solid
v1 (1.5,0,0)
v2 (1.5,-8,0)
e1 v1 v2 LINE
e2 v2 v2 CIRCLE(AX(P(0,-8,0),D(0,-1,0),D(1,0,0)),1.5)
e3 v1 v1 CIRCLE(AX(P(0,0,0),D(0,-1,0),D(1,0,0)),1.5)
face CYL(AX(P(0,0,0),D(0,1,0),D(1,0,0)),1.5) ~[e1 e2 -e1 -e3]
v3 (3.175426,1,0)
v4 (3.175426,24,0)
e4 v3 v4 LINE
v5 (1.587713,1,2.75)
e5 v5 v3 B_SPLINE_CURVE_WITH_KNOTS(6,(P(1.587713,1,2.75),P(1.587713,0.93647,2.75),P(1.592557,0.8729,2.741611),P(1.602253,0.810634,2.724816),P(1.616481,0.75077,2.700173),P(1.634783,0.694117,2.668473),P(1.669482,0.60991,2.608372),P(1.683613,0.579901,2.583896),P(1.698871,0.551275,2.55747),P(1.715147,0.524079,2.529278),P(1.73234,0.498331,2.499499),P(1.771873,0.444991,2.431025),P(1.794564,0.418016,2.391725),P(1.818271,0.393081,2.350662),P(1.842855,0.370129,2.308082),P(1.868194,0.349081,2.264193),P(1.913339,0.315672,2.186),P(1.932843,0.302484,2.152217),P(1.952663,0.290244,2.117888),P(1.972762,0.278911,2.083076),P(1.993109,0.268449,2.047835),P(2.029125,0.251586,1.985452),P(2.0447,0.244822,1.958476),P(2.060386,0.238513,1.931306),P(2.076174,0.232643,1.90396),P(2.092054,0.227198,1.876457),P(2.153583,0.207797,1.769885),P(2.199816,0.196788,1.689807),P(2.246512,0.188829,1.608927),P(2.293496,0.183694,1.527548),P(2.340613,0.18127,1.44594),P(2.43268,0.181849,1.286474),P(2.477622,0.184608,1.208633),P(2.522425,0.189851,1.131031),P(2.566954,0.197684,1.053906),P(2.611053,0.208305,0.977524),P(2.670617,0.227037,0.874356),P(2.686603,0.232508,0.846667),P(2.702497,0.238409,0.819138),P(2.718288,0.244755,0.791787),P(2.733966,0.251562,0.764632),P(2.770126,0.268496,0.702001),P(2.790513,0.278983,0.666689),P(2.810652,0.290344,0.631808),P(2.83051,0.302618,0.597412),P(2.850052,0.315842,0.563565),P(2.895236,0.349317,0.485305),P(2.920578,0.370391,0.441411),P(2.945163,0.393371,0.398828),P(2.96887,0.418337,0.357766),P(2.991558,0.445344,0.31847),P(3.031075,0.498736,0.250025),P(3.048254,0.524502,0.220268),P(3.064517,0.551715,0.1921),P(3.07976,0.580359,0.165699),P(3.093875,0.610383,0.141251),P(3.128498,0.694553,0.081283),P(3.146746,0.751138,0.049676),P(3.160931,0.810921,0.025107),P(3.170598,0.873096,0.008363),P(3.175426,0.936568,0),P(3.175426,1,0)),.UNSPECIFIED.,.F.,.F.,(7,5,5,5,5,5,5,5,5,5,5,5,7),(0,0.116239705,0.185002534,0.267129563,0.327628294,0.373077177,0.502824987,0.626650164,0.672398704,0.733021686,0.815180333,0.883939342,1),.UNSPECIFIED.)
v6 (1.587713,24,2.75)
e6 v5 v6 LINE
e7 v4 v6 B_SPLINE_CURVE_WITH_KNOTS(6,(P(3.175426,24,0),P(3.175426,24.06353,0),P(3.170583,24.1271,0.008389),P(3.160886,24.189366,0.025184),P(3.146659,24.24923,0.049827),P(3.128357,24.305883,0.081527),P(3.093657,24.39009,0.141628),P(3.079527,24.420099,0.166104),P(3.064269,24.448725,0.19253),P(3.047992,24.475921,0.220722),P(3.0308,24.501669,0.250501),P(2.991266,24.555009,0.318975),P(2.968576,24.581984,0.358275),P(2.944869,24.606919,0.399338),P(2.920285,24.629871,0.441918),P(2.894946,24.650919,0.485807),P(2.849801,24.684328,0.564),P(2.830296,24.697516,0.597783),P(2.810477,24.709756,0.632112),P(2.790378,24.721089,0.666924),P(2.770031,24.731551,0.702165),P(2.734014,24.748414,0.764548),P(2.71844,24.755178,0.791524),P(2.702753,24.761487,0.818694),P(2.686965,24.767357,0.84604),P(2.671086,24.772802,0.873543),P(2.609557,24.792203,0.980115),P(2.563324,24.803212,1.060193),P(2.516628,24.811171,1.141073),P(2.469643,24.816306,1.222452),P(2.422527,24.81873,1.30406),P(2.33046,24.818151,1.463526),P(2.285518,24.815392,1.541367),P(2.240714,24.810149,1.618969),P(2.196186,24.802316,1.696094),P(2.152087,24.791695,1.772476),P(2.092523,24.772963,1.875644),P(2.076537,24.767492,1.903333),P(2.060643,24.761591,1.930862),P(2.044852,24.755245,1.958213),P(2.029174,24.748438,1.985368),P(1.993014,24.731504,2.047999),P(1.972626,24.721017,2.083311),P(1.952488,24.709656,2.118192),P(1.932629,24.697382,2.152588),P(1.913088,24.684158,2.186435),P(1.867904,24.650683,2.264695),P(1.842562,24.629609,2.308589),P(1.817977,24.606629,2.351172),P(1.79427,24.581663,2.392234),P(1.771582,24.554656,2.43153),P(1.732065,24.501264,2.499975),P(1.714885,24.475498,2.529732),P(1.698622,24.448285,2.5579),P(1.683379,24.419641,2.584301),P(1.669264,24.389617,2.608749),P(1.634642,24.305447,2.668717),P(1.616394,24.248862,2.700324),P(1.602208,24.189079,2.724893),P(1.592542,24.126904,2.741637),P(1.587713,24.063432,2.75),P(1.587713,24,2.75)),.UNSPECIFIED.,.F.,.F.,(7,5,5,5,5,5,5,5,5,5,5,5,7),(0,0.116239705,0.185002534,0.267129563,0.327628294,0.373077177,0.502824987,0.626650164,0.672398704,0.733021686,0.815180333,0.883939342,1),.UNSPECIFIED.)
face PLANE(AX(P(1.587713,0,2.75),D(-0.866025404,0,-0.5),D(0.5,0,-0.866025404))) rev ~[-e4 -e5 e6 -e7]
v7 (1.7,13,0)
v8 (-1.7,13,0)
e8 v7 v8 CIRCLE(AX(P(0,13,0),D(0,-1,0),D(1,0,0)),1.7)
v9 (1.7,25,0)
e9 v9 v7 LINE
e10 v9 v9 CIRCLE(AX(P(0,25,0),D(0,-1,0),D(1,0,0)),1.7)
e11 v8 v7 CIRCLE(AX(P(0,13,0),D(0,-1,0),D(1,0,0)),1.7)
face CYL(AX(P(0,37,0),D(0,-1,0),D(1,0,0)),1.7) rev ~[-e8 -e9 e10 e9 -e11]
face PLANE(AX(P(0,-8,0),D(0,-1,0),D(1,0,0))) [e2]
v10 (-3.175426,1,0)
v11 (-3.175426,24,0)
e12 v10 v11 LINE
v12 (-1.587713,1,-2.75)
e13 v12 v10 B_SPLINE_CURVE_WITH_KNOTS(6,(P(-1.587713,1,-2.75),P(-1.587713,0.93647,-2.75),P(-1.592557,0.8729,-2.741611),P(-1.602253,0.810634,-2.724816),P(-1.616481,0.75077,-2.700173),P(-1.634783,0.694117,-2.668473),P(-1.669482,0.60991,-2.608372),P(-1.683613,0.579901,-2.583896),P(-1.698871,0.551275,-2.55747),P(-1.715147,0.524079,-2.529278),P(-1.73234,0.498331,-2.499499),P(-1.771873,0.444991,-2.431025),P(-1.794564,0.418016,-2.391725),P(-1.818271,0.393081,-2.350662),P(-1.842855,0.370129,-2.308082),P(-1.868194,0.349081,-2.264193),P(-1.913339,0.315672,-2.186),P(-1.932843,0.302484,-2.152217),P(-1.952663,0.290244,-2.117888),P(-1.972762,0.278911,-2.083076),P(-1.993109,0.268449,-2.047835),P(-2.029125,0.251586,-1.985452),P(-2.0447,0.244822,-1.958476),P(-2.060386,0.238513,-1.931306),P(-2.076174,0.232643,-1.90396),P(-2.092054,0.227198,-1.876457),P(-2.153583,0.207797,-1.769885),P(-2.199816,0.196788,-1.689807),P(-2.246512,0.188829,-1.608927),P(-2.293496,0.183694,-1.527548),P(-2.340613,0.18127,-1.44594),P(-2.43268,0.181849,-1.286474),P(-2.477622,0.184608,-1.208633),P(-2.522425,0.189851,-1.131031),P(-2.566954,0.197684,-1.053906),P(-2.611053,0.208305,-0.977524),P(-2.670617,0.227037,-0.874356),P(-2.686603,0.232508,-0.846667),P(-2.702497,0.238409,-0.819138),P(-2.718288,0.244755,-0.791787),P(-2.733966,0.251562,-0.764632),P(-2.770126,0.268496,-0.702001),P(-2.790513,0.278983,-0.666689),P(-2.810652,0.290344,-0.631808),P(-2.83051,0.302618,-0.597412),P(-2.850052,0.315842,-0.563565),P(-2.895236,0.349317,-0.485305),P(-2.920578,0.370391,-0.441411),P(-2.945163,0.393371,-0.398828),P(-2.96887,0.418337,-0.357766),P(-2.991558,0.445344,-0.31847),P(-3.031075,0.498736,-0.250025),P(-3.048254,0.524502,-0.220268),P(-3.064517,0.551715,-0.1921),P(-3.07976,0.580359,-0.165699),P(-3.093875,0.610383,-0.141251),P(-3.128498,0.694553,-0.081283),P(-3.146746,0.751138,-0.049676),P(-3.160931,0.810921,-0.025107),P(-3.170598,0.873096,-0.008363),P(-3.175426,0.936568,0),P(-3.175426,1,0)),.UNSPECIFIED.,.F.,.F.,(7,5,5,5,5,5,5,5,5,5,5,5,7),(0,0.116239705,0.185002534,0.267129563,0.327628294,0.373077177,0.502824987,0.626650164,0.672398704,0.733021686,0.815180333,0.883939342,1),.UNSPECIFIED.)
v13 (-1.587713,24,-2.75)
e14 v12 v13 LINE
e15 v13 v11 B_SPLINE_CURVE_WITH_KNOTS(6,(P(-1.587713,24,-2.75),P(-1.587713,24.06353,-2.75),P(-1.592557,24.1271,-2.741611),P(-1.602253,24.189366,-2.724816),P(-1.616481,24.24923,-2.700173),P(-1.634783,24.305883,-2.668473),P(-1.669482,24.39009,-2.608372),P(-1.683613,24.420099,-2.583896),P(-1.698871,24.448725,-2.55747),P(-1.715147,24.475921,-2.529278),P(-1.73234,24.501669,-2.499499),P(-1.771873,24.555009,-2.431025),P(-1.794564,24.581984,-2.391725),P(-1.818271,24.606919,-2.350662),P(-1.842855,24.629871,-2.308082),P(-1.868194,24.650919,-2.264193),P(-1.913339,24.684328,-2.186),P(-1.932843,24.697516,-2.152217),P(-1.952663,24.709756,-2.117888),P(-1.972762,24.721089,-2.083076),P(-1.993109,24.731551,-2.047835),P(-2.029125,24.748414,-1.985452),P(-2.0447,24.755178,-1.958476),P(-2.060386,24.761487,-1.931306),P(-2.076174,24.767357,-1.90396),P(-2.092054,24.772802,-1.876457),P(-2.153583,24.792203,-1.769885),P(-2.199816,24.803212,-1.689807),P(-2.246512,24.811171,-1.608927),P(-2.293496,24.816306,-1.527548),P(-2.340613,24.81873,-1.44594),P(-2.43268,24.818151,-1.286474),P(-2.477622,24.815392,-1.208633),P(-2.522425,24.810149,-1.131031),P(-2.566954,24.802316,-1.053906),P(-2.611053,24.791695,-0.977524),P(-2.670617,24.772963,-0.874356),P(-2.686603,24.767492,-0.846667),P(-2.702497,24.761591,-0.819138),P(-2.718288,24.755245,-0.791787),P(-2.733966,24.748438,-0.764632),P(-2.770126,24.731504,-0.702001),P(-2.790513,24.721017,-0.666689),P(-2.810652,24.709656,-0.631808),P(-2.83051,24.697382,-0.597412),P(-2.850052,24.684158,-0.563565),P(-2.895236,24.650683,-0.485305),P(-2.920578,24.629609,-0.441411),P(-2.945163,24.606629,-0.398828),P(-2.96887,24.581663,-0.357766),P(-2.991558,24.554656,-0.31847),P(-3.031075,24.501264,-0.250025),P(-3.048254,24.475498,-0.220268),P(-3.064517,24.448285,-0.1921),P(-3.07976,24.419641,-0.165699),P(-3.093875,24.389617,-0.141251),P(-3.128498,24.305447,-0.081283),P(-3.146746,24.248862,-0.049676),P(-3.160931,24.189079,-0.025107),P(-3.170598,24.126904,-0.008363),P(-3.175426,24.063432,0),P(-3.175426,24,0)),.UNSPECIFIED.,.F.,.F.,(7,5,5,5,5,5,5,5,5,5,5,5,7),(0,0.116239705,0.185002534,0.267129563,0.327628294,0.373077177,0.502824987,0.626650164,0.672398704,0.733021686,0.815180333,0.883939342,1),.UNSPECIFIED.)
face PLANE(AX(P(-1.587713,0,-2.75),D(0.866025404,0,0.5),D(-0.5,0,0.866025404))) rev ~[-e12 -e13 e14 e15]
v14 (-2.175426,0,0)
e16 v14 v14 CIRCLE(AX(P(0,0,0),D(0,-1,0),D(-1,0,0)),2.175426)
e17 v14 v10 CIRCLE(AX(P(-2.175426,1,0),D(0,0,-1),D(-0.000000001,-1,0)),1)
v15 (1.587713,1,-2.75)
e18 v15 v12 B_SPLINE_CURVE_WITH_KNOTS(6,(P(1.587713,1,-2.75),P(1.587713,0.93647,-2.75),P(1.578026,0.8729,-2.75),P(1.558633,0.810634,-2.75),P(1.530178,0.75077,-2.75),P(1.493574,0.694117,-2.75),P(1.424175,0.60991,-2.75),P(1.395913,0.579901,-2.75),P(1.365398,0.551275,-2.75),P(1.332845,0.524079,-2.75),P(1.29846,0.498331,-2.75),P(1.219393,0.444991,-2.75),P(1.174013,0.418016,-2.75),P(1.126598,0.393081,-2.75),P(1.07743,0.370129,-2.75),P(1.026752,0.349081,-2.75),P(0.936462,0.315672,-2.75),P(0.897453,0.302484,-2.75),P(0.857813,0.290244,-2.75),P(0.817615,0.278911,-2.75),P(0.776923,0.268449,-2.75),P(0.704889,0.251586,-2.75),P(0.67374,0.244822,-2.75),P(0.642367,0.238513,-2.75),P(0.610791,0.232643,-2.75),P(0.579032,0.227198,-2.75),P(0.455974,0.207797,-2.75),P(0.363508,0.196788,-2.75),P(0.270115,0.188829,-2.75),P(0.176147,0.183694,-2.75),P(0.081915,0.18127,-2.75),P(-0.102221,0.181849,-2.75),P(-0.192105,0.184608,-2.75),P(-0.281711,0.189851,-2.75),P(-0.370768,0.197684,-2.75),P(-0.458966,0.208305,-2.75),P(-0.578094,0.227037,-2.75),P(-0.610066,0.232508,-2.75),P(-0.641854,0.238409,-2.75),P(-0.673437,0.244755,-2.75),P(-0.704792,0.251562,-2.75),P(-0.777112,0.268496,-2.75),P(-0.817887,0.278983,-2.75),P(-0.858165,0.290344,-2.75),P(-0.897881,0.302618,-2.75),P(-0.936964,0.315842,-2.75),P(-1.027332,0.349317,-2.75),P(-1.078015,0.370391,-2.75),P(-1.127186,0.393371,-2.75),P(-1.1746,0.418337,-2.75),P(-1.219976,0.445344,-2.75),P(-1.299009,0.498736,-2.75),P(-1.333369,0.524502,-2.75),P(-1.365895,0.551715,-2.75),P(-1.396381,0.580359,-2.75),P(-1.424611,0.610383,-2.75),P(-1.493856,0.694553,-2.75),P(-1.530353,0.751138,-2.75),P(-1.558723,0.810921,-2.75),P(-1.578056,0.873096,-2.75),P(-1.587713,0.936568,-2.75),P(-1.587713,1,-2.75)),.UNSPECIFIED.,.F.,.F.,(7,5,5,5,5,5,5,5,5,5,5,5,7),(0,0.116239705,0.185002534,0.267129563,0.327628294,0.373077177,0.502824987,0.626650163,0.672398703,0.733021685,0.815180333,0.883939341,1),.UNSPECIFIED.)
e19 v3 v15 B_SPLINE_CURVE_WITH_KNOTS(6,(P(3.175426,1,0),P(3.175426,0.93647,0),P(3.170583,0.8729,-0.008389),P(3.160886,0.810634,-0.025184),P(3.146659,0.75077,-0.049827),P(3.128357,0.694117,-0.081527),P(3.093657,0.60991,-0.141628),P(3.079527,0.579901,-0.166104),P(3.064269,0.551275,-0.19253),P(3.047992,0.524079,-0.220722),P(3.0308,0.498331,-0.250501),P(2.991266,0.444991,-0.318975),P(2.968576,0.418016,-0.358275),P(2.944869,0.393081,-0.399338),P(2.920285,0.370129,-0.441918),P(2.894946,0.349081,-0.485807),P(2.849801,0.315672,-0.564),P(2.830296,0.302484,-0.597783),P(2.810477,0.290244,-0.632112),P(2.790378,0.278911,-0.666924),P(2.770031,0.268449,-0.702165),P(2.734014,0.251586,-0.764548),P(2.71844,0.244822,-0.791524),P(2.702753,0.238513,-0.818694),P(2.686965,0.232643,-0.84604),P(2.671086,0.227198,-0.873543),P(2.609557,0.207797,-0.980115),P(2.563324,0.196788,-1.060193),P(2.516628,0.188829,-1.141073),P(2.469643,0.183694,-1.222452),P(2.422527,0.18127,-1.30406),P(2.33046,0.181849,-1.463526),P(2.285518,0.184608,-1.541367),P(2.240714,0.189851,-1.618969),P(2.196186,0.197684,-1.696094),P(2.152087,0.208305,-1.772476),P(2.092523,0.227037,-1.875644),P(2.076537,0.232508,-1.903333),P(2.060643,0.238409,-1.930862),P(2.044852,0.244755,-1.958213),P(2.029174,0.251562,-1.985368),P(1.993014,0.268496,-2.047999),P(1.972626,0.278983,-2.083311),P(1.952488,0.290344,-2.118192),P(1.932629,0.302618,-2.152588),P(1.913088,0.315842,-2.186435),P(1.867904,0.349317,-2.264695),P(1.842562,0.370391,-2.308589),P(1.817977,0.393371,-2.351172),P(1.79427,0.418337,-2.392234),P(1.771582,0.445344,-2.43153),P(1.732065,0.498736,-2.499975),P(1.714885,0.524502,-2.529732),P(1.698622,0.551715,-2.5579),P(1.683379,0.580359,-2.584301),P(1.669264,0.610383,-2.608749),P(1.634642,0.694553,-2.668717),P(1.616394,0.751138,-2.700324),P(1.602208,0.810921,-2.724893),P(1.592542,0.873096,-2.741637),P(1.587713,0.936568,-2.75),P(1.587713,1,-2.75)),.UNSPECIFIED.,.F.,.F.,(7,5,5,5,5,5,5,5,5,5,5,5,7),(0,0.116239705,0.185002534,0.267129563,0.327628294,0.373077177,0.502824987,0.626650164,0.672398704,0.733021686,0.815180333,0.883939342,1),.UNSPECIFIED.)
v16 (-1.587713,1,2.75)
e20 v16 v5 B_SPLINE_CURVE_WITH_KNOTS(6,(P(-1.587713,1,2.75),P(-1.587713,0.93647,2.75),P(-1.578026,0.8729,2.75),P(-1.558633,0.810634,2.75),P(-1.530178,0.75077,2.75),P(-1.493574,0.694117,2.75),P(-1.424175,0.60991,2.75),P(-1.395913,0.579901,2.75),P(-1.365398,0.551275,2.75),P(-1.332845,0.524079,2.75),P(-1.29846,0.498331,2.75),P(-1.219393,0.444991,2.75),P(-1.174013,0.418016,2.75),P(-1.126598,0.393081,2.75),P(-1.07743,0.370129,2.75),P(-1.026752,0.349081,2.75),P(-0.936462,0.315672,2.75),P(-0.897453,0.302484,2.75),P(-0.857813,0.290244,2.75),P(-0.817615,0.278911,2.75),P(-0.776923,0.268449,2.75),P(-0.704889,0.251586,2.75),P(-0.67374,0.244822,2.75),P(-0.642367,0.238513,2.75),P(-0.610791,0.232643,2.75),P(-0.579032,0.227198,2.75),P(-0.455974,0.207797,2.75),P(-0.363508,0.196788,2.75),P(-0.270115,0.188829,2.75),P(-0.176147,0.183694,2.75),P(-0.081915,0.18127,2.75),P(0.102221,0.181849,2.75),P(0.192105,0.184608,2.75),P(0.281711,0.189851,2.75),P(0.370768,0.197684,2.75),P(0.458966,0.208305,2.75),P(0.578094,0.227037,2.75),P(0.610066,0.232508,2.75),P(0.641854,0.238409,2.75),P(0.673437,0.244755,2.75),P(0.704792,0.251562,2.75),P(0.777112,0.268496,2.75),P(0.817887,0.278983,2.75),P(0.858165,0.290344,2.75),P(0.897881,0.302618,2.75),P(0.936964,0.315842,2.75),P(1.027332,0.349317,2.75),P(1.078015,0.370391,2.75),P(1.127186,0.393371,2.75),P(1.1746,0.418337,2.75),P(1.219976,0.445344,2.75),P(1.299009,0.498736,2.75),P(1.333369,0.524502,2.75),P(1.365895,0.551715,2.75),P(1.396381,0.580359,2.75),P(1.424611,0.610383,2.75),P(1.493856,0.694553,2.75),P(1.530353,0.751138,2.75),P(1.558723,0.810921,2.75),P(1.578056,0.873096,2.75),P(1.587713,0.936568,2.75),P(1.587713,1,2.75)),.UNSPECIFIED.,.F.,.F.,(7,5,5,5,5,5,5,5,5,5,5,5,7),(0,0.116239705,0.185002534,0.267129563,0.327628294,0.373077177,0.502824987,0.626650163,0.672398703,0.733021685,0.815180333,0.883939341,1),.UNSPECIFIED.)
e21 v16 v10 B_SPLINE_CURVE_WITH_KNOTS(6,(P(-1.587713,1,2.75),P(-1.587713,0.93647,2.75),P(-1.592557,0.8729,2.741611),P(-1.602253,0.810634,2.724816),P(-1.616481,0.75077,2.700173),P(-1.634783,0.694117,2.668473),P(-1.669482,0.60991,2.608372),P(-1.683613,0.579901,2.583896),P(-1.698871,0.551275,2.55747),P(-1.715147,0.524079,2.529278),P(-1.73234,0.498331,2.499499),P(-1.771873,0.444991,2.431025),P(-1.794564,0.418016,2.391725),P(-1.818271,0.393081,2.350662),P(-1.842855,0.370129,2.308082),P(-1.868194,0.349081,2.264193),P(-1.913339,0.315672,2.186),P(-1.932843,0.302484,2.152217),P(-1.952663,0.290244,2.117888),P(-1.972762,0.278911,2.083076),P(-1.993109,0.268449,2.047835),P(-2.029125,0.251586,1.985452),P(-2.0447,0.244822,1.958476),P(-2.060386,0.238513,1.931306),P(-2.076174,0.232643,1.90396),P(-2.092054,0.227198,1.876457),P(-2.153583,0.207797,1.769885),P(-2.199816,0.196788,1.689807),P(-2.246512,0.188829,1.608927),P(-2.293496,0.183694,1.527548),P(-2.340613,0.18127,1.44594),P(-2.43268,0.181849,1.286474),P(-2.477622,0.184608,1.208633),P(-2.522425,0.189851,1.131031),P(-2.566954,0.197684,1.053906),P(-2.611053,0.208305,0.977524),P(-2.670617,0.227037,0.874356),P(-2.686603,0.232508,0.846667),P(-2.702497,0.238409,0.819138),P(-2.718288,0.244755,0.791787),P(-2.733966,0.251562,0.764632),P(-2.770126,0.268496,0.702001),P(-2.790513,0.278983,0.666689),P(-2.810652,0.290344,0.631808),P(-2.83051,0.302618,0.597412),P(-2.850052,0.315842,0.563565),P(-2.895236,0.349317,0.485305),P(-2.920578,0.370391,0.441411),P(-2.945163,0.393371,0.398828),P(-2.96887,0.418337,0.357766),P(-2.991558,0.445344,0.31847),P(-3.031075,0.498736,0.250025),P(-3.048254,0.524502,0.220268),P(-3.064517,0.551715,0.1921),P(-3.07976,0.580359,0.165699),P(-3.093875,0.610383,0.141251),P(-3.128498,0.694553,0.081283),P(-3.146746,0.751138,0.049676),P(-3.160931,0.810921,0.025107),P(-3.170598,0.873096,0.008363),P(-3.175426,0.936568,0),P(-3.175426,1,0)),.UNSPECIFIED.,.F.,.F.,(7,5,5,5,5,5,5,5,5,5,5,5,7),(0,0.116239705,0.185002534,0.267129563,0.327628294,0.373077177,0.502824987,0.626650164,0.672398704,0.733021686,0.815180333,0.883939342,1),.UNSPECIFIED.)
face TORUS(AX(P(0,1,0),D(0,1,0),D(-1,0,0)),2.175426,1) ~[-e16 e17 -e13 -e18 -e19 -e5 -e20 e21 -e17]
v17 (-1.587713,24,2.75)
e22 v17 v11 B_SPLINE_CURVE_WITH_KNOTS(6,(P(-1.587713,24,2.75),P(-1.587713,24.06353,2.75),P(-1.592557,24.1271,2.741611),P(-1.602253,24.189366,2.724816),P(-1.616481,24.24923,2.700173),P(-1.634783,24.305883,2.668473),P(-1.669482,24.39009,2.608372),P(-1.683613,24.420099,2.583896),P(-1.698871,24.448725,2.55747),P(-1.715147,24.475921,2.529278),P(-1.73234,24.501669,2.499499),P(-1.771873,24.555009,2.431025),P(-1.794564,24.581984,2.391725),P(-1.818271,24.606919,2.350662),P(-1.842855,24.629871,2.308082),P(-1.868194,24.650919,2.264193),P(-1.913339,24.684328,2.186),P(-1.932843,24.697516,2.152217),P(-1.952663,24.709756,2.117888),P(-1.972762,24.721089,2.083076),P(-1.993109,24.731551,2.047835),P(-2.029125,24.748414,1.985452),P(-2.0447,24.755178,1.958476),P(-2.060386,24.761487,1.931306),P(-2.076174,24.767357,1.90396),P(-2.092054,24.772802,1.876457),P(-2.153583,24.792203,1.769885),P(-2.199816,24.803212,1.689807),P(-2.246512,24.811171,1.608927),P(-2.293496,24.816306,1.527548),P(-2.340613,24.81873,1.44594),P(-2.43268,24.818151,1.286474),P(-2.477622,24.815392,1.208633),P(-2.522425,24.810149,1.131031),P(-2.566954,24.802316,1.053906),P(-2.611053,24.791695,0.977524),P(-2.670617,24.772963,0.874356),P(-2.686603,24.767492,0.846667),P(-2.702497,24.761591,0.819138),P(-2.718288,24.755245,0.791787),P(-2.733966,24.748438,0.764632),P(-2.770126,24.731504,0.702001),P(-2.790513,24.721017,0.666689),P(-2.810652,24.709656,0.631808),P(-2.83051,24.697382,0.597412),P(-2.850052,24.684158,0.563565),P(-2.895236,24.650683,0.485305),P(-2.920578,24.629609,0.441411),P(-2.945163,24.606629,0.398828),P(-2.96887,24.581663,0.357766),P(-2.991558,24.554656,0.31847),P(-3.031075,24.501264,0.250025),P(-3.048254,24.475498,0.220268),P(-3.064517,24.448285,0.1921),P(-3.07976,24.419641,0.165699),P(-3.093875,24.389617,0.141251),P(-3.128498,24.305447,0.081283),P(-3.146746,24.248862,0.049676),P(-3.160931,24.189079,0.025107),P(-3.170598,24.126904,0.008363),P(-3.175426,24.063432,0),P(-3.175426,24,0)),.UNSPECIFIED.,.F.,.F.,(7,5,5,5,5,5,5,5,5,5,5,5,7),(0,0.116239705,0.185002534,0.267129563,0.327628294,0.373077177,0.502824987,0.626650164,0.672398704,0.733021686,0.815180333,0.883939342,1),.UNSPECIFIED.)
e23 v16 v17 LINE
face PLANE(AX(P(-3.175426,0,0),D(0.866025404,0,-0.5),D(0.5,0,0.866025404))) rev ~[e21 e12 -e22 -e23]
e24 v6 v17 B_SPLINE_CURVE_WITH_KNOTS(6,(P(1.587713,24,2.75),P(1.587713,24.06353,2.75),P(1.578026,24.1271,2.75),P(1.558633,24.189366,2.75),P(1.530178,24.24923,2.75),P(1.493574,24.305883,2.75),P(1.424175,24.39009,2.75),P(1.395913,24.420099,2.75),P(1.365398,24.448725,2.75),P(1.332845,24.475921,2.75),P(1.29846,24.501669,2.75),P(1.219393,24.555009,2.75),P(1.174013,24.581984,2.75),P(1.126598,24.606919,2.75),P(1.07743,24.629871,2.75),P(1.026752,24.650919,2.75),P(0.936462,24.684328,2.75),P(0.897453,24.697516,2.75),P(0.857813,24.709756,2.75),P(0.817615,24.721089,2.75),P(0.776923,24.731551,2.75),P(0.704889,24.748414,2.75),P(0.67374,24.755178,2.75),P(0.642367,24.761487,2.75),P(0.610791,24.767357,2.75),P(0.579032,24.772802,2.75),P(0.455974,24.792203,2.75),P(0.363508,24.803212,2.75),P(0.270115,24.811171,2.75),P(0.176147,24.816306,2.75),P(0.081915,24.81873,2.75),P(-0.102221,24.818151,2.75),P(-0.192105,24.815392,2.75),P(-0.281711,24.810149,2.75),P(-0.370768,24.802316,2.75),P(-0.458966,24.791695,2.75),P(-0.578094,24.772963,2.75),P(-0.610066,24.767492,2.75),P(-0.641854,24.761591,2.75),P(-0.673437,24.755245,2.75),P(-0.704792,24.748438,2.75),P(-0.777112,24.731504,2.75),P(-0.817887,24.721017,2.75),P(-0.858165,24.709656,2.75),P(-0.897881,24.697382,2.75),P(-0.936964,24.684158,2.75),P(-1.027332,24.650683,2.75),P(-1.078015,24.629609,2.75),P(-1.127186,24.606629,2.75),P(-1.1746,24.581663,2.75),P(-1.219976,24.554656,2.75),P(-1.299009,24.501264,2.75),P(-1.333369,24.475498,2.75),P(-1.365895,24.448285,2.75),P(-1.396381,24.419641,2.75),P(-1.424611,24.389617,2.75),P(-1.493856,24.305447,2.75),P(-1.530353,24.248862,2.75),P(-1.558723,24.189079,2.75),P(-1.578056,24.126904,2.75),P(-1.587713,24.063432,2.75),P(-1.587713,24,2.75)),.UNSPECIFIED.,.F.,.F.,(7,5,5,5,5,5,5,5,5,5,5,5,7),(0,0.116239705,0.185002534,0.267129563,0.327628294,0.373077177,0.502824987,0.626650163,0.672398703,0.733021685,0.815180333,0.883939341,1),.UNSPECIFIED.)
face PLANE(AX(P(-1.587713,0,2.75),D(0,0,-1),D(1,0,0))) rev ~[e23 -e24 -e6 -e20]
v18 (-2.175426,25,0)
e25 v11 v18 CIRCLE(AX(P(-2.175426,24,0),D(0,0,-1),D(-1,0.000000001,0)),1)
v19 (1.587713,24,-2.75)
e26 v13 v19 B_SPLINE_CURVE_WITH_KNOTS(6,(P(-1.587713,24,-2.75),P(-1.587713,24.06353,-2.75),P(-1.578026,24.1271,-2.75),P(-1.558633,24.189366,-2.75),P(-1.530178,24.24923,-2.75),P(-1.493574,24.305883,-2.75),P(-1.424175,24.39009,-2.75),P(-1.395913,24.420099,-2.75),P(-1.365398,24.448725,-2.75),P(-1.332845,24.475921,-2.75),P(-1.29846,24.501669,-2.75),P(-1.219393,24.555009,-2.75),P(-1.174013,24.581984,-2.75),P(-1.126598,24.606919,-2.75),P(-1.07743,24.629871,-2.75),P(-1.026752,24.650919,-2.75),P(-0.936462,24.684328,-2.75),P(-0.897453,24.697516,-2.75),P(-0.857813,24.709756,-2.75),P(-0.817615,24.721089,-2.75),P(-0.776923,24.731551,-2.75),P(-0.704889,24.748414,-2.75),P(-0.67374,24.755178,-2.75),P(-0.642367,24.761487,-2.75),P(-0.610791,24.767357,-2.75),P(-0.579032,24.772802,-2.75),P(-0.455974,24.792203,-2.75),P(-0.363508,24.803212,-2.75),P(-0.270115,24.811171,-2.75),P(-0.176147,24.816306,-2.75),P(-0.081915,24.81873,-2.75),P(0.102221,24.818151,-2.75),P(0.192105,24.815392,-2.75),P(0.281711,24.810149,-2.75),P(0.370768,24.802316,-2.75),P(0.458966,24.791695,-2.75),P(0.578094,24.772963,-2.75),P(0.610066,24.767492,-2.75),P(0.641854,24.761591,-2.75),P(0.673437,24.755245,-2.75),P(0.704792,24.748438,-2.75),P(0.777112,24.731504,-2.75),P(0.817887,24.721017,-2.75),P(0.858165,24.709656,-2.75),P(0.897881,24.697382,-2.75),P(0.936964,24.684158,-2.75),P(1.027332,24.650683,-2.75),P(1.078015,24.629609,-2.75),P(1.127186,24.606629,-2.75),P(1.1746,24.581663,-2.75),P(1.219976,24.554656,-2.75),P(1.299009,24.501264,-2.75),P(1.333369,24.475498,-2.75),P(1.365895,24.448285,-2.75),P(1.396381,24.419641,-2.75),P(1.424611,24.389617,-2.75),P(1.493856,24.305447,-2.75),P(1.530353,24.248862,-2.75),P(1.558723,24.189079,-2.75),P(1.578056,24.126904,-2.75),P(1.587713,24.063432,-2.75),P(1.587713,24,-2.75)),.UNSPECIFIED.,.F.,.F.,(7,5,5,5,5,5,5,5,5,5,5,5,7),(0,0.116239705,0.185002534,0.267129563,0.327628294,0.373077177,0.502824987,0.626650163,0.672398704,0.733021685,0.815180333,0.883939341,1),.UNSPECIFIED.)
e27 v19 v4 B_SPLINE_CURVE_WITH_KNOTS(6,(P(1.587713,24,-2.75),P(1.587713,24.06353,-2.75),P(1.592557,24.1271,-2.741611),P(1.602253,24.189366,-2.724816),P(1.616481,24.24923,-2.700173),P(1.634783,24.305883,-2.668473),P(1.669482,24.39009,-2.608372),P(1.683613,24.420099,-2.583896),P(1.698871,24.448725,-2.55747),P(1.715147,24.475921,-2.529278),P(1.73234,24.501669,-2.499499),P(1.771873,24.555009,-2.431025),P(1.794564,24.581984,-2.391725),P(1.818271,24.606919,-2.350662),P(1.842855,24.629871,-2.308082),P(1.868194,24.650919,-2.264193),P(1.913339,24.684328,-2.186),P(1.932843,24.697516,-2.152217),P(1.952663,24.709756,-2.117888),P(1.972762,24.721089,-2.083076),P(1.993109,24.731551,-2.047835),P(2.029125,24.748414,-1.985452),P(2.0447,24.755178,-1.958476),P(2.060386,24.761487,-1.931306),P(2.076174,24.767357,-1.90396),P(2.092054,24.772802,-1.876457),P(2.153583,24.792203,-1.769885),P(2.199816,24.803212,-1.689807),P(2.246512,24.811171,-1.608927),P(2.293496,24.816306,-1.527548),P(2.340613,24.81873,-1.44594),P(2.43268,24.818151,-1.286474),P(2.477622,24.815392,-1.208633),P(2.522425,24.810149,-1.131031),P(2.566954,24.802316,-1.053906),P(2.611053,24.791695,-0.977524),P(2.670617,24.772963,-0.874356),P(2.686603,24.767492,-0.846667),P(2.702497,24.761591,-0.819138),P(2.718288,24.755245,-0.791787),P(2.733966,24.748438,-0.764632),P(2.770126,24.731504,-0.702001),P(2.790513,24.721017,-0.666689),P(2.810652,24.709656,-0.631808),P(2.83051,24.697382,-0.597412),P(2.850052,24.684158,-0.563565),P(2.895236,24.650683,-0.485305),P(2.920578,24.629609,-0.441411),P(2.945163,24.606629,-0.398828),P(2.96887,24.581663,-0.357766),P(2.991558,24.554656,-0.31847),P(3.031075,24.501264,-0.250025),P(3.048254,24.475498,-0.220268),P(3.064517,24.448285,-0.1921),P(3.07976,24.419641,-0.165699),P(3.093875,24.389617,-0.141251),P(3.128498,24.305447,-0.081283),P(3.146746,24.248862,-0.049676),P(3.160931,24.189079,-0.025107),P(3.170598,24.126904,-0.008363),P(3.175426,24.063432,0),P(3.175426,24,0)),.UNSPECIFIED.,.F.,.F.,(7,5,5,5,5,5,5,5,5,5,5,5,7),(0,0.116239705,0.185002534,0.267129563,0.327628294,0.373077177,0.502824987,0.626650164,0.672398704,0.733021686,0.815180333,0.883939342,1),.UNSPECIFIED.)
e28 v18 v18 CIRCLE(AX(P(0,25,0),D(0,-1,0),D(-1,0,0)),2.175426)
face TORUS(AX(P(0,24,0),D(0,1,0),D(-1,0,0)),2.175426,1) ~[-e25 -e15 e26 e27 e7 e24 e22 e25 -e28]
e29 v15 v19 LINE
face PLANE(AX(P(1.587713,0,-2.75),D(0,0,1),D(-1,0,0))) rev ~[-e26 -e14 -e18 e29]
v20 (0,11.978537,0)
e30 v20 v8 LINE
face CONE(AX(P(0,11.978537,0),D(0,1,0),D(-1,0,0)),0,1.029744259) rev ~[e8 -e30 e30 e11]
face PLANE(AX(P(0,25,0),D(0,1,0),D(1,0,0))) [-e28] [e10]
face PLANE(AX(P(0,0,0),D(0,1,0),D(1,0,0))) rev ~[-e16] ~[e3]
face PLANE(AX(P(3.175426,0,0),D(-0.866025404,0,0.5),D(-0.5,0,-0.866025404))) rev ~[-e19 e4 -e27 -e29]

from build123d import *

# Parameters (mm, degrees)
BOSS_EXTRUDE1_DEPTH      = 25
M3_CLEARANCE_HOLE1_D     = 3.4
M3_CLEARANCE_HOLE1_DEPTH = 12
M3_CLEARANCE_HOLE1_TIP   = 1.021463052
SKETCH5_R                = 1.5
BOSS_EXTRUDE2_DEPTH      = 8


with BuildPart() as part:
    # Sketch1 → Boss-Extrude1 (new body)
    with BuildSketch(Plane(origin=(0, 0, 0), x_dir=(1, 0, 0), z_dir=(0, 1, 0))):
        Polygon((3.175426481, 0), (1.58771324, 2.75), (-1.58771324, 2.75), (-3.175426481, 0), (-1.58771324, -2.75), (1.58771324, -2.75), align=None)
    extrude(amount=BOSS_EXTRUDE1_DEPTH)

    # M3 Clearance Hole1
    with Locations(Plane(origin=(0, 25, 0), x_dir=(-1, 0, 0), z_dir=(0, 1, 0))):
        with Locations((0, 0)):
            Hole(M3_CLEARANCE_HOLE1_D / 2, depth=M3_CLEARANCE_HOLE1_DEPTH)
            with Locations((0, 0, -(M3_CLEARANCE_HOLE1_DEPTH + M3_CLEARANCE_HOLE1_TIP / 2))):  # 118° drill point
                Cone(0, M3_CLEARANCE_HOLE1_D / 2, M3_CLEARANCE_HOLE1_TIP, mode=Mode.SUBTRACT)

    # Sketch4 → Cut-Revolve1 (revolve, cut)
    with BuildSketch(Plane.XY):
        with BuildLine():
            Line((-2.175426481, 25), (-3.175426481, 25))
            Line((-3.175426481, 25), (-3.175426481, 24))
            ThreePointArc((-3.175426481, 24), (-2.882533262, 24.707106781), (-2.175426481, 25))
        make_face()
        with BuildLine():
            Line((-3.175426481, 1), (-3.175426481, 0))
            Line((-3.175426481, 0), (-2.175426481, 0))
            ThreePointArc((-2.175426481, 0), (-2.882533262, 0.292893219), (-3.175426481, 1))
        make_face()
    revolve(axis=Axis((0, 25, 0), (0, -1, 0)), mode=Mode.SUBTRACT)

    # Sketch5 → Boss-Extrude2 (add)
    with BuildSketch(Plane.XZ):
        Circle(SKETCH5_R)
    extrude(amount=BOSS_EXTRUDE2_DEPTH)


solid = part.part
